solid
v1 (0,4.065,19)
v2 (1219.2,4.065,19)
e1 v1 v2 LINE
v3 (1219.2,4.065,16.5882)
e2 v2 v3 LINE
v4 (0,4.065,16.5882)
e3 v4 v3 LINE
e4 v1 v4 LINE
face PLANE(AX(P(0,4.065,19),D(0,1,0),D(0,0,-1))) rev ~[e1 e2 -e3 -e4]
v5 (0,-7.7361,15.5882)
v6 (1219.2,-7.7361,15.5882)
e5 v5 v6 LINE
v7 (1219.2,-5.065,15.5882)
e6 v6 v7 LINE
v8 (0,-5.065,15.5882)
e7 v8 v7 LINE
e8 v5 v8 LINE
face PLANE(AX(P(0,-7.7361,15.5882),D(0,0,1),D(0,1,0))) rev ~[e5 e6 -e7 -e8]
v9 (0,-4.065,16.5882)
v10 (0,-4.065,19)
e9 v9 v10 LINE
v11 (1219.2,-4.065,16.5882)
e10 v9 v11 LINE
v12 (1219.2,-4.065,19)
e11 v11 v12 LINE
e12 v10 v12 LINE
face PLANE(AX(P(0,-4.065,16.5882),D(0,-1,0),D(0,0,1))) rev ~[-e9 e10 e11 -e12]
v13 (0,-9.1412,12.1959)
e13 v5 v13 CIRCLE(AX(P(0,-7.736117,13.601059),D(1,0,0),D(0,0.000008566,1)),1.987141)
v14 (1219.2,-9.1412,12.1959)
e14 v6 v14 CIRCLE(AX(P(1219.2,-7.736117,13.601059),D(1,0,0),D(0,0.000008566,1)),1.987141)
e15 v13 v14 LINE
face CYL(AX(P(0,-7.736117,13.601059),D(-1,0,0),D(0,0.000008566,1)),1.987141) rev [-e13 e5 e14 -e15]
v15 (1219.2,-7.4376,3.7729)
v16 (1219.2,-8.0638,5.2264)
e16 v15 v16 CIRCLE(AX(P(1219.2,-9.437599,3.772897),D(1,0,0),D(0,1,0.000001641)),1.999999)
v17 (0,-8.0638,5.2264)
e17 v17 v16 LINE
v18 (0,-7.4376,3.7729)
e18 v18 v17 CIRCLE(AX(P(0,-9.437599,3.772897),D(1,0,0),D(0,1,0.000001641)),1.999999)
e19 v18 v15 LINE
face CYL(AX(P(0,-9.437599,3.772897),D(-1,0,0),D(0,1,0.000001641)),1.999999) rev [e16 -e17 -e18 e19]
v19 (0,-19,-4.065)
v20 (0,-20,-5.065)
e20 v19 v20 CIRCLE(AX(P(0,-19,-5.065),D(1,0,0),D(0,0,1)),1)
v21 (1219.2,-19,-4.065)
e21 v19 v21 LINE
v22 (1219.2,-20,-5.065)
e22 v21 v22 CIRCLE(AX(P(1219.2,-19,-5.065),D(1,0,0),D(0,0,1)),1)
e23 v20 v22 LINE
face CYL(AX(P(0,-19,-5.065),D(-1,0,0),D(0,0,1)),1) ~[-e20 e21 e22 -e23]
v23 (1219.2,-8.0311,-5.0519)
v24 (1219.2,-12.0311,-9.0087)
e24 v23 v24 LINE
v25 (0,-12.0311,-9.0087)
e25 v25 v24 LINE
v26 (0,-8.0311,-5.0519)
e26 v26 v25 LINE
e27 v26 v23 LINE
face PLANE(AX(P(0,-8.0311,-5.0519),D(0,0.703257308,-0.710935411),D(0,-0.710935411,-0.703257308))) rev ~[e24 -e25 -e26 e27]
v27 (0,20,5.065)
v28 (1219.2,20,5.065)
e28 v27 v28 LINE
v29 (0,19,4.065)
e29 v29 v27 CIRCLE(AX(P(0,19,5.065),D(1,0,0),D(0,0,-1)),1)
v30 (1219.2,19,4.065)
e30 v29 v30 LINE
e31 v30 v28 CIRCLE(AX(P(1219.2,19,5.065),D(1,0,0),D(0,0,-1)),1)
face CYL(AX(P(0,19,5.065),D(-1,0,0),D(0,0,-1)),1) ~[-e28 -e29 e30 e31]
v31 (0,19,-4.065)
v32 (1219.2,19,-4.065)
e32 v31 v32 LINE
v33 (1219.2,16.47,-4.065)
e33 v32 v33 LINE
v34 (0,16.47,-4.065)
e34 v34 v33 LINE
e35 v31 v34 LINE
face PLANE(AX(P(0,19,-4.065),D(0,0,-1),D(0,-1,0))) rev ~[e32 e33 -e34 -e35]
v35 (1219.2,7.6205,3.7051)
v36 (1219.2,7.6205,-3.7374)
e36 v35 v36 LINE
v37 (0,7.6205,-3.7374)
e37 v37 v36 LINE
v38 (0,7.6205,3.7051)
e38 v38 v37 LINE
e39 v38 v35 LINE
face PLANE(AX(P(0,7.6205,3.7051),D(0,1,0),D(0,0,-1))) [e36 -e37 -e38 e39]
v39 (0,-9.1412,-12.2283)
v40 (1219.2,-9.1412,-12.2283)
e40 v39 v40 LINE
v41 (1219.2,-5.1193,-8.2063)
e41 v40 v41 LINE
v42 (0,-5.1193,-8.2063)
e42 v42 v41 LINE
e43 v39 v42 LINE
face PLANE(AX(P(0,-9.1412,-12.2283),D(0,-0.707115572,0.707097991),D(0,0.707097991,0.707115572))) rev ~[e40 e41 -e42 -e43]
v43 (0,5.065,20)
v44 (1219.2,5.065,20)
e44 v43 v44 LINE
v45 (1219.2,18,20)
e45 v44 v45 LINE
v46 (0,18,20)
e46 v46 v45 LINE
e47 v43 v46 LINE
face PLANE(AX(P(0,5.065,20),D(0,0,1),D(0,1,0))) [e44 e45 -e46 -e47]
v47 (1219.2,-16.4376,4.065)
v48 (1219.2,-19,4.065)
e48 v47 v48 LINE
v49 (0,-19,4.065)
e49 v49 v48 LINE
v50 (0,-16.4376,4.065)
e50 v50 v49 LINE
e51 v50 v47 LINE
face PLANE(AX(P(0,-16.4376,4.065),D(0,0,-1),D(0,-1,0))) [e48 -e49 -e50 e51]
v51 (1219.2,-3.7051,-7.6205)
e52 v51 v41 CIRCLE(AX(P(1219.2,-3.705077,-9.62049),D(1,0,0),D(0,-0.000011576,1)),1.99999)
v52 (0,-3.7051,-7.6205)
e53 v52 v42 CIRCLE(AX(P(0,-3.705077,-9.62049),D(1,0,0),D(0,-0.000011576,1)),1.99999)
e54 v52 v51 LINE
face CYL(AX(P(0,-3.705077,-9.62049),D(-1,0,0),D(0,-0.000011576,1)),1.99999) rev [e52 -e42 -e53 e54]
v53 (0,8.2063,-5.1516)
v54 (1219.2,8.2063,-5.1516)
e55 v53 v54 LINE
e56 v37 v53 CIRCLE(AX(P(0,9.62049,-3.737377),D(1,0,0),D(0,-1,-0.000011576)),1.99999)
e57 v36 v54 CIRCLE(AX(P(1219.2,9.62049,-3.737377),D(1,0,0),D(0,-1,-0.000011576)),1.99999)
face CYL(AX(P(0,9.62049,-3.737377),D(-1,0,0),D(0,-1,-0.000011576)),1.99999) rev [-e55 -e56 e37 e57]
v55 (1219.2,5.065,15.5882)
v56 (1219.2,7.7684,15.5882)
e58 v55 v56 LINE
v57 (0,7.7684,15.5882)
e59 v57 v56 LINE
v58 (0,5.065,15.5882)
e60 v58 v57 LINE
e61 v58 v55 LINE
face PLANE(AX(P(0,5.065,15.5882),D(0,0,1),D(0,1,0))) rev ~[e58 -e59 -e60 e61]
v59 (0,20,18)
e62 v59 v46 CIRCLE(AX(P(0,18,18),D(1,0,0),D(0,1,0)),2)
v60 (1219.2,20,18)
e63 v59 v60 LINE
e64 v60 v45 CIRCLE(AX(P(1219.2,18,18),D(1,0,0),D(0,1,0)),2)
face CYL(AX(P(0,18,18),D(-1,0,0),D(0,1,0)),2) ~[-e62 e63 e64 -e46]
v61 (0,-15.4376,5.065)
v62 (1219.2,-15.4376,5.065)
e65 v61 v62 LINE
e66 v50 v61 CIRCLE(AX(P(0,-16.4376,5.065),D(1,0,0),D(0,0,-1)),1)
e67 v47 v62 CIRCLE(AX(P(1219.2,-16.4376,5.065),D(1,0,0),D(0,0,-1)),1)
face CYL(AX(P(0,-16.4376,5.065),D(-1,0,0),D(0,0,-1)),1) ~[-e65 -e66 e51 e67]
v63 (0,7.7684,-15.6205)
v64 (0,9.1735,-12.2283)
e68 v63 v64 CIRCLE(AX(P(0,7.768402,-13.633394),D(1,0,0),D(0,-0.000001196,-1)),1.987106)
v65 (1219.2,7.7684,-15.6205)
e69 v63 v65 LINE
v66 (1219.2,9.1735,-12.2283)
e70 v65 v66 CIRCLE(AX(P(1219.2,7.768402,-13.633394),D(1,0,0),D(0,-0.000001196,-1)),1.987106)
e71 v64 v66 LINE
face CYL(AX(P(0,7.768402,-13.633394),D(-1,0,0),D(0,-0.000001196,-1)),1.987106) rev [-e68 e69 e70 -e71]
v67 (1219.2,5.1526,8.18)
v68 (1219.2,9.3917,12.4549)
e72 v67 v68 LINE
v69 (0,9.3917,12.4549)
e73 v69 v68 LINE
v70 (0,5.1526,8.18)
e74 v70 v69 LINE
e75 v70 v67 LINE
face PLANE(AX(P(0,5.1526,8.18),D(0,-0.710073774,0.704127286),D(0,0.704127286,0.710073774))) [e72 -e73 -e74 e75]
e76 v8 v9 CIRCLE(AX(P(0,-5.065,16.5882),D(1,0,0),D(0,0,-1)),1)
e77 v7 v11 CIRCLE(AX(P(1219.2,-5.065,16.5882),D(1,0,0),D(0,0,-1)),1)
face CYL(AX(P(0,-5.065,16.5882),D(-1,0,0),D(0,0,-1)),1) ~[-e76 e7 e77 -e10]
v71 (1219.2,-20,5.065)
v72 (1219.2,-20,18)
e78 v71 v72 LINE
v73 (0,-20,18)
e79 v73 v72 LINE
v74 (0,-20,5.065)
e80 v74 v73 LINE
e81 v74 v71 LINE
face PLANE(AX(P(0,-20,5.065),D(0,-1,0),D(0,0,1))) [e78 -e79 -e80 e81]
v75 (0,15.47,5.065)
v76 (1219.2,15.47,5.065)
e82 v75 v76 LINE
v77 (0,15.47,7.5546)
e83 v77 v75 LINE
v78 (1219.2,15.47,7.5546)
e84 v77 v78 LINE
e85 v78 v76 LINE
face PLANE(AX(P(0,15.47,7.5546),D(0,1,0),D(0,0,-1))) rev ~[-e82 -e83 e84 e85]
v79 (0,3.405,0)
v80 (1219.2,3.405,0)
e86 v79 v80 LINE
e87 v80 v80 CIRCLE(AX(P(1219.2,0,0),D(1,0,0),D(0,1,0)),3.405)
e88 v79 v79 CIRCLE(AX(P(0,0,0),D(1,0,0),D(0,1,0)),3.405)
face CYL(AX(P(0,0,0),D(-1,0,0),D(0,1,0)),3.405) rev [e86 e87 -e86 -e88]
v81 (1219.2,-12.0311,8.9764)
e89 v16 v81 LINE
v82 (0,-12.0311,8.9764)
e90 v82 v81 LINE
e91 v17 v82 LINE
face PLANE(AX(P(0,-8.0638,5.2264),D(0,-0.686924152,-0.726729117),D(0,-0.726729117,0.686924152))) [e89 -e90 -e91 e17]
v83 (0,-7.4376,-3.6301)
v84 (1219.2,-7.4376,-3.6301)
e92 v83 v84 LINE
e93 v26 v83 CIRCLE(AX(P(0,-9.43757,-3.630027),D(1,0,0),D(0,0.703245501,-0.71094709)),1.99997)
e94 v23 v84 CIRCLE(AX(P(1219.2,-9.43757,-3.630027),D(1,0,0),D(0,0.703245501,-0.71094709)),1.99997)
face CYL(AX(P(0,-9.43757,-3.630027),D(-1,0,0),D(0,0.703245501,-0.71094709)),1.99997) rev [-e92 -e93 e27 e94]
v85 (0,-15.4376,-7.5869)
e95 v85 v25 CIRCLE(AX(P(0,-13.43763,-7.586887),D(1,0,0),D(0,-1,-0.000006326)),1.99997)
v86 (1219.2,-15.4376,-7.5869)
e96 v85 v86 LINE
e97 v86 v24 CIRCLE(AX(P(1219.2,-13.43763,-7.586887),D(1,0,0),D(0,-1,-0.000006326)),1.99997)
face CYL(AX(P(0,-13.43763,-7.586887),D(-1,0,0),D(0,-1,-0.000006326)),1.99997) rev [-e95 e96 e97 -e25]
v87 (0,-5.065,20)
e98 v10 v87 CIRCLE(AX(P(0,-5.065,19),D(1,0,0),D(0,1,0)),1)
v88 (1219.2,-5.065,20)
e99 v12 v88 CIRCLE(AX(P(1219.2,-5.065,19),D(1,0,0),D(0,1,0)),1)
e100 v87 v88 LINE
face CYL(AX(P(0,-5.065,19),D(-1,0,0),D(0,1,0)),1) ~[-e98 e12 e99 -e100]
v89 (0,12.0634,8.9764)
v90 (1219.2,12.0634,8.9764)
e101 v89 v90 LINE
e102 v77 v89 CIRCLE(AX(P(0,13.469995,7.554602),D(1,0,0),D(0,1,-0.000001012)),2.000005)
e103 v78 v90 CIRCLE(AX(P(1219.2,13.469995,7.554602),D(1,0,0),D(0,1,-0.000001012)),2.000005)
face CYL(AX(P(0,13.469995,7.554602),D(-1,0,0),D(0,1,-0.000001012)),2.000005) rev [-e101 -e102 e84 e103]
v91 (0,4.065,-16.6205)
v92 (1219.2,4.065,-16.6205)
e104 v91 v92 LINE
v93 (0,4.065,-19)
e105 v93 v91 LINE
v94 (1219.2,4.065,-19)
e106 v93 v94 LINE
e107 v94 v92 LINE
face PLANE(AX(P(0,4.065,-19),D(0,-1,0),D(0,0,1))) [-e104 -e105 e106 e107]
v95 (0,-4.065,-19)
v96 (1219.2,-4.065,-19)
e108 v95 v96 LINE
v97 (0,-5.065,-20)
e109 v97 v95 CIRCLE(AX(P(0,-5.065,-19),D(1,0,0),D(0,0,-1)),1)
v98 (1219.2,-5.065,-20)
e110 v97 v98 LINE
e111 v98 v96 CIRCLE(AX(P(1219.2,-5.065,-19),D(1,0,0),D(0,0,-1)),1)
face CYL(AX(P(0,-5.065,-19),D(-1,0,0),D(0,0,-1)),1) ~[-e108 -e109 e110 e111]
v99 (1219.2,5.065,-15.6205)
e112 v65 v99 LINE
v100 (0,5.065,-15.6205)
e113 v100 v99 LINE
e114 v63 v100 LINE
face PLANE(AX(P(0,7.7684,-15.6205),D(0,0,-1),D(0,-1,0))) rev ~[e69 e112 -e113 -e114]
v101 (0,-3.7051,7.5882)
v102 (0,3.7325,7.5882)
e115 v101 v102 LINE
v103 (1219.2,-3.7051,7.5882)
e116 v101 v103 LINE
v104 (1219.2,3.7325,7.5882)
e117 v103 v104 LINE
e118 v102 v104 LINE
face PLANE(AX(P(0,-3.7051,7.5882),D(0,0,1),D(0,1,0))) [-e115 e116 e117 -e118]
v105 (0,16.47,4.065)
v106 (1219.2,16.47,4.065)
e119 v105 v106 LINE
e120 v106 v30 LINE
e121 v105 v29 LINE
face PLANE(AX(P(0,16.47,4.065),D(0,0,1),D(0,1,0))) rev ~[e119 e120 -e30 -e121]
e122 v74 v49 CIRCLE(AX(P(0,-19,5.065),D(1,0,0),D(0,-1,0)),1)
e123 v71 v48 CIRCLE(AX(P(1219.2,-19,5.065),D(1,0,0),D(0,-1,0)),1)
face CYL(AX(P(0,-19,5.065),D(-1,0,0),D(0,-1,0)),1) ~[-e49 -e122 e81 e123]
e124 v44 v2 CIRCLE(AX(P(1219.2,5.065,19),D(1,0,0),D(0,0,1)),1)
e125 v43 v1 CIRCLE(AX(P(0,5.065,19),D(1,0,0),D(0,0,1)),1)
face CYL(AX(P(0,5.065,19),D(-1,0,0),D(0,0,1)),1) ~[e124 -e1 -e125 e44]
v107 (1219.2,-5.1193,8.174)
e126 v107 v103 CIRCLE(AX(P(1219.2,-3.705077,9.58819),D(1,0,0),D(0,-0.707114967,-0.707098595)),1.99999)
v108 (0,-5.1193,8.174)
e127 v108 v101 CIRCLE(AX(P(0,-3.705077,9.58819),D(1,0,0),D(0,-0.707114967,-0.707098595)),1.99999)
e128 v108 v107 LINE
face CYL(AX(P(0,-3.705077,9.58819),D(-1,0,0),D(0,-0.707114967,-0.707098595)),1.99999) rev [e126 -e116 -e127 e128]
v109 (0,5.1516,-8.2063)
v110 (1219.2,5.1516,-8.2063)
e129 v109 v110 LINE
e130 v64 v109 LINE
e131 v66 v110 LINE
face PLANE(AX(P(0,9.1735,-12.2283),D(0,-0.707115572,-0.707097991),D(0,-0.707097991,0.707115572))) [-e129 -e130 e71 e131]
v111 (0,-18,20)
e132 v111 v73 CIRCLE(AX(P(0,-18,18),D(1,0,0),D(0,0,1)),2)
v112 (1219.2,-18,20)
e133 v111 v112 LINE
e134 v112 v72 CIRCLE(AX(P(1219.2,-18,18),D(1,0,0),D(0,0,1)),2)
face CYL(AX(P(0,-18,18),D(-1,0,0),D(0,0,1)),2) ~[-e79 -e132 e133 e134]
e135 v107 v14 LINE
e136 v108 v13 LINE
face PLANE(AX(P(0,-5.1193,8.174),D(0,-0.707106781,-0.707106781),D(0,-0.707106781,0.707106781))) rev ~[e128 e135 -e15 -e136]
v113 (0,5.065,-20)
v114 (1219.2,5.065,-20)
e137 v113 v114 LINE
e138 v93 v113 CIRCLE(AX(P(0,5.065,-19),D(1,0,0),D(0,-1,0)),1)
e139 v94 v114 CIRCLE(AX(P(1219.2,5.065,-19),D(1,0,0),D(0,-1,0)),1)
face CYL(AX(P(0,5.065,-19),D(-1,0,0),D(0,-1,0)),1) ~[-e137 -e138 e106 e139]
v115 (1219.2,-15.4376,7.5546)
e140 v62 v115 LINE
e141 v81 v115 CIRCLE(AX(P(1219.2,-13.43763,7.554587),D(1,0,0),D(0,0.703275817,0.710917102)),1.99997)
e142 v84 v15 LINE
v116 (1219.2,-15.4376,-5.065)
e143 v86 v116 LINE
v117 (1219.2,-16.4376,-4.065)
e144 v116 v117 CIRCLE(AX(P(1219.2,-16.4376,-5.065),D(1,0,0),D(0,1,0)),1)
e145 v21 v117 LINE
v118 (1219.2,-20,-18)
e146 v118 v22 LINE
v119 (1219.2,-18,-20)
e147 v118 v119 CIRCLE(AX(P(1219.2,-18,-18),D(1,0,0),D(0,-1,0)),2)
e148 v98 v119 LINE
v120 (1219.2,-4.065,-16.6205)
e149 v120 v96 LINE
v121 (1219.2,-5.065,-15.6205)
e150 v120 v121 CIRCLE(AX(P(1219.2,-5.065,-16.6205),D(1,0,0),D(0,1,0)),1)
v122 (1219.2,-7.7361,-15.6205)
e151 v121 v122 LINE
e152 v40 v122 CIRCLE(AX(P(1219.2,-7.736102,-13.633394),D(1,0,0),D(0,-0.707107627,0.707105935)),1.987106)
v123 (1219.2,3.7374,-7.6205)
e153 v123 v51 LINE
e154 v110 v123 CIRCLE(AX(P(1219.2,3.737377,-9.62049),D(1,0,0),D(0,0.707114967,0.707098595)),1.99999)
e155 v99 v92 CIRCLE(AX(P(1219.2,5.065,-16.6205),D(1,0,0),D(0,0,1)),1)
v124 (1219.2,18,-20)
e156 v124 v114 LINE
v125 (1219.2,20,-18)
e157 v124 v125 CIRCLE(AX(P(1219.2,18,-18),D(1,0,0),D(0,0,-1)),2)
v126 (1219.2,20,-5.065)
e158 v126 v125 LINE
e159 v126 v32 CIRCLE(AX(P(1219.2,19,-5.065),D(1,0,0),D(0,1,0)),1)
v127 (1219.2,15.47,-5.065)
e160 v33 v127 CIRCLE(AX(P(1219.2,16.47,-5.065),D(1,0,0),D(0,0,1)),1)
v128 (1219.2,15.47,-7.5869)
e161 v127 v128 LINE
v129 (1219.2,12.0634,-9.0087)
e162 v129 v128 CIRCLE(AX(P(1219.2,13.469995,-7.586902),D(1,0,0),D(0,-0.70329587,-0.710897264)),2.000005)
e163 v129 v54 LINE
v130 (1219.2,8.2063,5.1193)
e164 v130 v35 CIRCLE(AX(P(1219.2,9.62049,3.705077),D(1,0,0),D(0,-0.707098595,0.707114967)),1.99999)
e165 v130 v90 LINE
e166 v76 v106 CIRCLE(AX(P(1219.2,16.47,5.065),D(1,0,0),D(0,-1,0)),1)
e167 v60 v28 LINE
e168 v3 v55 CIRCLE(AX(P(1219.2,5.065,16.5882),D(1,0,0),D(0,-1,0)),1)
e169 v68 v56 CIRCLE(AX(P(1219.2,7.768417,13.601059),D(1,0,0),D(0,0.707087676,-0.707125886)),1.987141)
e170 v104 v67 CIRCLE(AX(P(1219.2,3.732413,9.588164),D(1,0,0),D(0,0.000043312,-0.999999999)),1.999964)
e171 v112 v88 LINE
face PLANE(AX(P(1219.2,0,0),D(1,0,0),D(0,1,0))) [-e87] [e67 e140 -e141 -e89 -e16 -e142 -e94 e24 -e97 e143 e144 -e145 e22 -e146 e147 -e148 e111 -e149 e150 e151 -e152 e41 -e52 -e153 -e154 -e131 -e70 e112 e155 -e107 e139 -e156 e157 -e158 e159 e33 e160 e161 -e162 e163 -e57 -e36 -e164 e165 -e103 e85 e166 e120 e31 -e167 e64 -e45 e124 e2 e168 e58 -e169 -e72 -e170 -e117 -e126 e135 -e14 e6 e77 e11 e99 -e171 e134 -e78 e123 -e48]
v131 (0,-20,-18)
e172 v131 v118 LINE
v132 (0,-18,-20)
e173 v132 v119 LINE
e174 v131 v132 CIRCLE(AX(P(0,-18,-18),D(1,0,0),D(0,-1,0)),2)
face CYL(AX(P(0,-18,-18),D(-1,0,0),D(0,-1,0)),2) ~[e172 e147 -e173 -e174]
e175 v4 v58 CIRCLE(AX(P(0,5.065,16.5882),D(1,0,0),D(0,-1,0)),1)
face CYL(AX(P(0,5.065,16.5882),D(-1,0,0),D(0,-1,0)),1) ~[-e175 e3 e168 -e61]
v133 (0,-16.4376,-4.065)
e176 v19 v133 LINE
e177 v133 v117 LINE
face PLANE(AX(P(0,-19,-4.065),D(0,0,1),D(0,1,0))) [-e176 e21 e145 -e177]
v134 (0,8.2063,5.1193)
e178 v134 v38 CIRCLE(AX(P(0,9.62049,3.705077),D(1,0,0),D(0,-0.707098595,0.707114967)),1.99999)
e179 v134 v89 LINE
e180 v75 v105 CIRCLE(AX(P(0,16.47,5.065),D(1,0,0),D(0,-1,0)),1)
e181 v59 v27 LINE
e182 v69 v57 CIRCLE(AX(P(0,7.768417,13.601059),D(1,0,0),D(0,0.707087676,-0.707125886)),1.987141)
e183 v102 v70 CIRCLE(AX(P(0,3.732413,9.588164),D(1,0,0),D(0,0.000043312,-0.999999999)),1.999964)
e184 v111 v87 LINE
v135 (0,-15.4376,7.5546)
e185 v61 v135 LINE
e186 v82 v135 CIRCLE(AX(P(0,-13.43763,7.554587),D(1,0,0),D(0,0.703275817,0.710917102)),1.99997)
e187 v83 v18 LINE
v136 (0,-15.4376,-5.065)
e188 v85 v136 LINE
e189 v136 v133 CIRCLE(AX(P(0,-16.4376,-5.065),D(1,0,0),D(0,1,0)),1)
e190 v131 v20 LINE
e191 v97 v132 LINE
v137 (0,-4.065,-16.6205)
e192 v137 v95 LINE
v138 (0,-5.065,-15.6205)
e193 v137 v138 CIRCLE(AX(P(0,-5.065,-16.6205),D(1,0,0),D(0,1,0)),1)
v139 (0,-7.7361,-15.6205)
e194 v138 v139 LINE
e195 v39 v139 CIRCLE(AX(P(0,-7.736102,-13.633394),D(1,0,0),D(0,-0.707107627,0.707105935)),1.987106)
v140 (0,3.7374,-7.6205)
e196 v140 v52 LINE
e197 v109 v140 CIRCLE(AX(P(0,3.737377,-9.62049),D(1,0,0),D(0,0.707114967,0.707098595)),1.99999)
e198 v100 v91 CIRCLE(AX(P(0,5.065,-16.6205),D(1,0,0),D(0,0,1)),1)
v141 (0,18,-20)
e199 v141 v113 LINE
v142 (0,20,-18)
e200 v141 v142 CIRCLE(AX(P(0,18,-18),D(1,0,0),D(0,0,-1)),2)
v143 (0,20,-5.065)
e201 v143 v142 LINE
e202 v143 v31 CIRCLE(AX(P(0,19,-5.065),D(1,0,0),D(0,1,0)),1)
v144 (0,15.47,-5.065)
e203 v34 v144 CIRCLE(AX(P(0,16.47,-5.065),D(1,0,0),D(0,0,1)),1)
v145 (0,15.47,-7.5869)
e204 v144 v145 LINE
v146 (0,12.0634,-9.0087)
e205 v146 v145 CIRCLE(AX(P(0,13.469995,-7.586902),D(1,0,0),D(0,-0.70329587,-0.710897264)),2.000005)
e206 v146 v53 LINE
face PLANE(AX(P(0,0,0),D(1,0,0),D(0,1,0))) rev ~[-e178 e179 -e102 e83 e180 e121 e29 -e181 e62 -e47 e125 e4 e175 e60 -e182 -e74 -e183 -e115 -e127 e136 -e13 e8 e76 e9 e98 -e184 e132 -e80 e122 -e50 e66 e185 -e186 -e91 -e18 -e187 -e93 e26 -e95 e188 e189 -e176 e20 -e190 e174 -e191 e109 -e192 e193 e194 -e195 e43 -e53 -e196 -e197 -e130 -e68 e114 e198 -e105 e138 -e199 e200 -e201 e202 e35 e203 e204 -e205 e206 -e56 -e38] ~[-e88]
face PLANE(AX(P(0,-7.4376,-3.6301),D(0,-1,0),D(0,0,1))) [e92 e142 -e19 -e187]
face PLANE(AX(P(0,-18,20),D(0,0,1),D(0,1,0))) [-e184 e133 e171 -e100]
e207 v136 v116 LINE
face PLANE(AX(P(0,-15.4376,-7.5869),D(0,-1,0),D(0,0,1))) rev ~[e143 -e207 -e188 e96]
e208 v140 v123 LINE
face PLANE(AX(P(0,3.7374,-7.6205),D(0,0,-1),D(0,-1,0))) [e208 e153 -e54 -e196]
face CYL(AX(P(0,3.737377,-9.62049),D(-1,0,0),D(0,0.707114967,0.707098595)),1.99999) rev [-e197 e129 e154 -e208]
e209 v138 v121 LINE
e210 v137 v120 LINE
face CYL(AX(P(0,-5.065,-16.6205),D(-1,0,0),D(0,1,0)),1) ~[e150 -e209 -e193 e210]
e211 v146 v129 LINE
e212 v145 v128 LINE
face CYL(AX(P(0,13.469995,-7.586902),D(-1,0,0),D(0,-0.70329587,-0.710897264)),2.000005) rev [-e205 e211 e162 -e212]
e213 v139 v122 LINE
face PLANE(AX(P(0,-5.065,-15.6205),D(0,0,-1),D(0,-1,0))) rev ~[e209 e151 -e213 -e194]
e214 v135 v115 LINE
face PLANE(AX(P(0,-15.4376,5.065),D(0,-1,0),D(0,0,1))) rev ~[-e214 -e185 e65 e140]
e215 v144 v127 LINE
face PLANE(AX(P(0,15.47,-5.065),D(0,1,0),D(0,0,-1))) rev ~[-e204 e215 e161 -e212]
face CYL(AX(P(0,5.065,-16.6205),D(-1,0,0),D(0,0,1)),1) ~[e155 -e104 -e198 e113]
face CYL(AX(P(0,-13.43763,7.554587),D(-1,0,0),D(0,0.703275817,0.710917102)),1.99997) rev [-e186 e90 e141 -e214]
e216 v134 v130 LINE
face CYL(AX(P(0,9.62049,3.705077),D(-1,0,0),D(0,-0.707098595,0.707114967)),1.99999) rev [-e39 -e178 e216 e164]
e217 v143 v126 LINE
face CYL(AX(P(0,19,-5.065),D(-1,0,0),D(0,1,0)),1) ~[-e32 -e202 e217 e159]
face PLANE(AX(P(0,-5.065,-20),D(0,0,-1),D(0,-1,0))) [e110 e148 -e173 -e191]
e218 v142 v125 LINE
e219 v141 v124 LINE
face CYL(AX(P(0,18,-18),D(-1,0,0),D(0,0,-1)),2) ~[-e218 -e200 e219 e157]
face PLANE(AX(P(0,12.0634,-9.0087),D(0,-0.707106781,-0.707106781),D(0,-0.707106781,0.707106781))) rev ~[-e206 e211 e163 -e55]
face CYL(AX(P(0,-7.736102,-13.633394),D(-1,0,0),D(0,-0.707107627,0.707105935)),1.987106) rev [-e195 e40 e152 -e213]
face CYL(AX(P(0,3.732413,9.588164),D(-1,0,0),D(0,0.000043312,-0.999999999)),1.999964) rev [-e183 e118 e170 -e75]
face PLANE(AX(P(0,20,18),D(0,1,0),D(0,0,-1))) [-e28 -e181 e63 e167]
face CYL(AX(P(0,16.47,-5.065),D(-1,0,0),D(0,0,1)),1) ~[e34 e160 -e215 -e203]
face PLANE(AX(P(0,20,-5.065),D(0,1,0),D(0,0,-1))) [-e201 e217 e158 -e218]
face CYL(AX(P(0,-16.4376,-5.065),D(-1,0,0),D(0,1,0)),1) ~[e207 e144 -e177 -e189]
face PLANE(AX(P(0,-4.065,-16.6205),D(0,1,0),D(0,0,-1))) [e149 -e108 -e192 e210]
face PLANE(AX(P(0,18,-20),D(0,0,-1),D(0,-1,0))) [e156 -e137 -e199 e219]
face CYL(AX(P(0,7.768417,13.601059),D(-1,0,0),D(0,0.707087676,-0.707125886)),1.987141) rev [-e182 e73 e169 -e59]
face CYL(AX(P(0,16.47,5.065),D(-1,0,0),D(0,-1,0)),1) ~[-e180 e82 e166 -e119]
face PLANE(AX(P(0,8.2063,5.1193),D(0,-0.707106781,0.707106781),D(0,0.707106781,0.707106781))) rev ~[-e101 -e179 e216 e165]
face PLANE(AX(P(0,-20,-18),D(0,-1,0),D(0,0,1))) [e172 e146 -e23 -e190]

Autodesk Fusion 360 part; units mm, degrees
sketch "Sketch1" plane through (0, 0, 0) normal (1, 0, 0) x (0, 1, 0)
  circle A0 centre (0, 0) radius 3.405
  line L0 (3.7374, -7.6205) -> (-3.7051, -7.6205)
  line L1 (-3.7051, 7.5882) -> (3.7325, 7.5882)
  line L2 (7.425, -7.6205) -> (-7.425, 7.6205) construction
  line L3 (-7.425, -7.6205) -> (2.3762, 2.4388) construction
  line L4 (20, -20) -> (-20, 20) construction
  line L5 (15.425, -15.6205) -> (-15.425, 15.6205) construction
  line L6 (-8.0311, -5.0519) -> (-12.0311, -9.0087)
  line L7 (16.9453, -20) -> (68.4291, -20) construction
  line L8 (5.1526, 8.18) -> (9.3917, 12.4549)
  line L9 (-5.1193, 8.174) -> (-9.1412, 12.1959)
  line L10 (12.0634, -9.0087) -> (8.2063, -5.1516)
  line L11 (8.2063, 5.1193) -> (12.0634, 8.9764)
  line L12 (-9.1412, -12.2283) -> (-5.1193, -8.2063)
  line L13 (9.1735, -12.2283) -> (5.1516, -8.2063)
  line L14 (-8.0638, 5.2264) -> (-12.0311, 8.9764)
  line L15 (-20, -20) -> (2.4077, 2.4077) construction
  line L16 (7.425, 7.425) -> (20, 20) construction
  line L17 (-15.425, -15.6205) -> (2.3925, 2.4228) construction
  line L18 (7.6205, 3.7051) -> (7.6205, -3.7374)
  line L19 (-7.4376, -3.6301) -> (-7.4376, 3.7729)
  line L20 (-19, -4.065) -> (-16.4376, -4.065)
  line L21 (-16.4376, 4.065) -> (-19, 4.065)
  line L22 (16.47, 4.065) -> (19, 4.065)
  line L23 (19, -4.065) -> (16.47, -4.065)
  line L24 (-20, -18) -> (-20, -5.065)
  line L25 (-20, 5.065) -> (-20, 18)
  line L26 (-15.4376, -7.5869) -> (-15.4376, -5.065)
  line L27 (-15.4376, 5.065) -> (-15.4376, 7.5546)
  line L28 (15.47, 7.5546) -> (15.47, 5.065)
  line L29 (15.47, -5.065) -> (15.47, -7.5869)
  line L30 (20, 18) -> (20, 5.065)
  line L31 (20, -5.065) -> (20, -18)
  line L32 (16.47, 4.065) -> (19, 4.065)
  line L33 (4.065, 19) -> (4.065, 16.5882)
  line L34 (-4.065, 16.5882) -> (-4.065, 19)
  line L35 (4.065, -19) -> (4.065, -16.6205)
  line L36 (-4.065, -16.6205) -> (-4.065, -19)
  line L37 (-7.7361, 15.5882) -> (-5.065, 15.5882)
  line L38 (5.065, 15.5882) -> (7.7684, 15.5882)
  line L39 (-18, 20) -> (-5.065, 20)
  line L40 (5.065, 20) -> (18, 20)
  line L41 (-16.9453, -20) -> (-5.065, -20) construction
  line L42 (5.065, -20) -> (34.3692, -20) construction
  line L43 (18, -20) -> (4.065, -20)
  line L44 (-4.065, -20) -> (-18, -20)
  line L45 (7.7684, -15.6205) -> (5.065, -15.6205)
  line L46 (-5.065, -15.6205) -> (-7.7361, -15.6205)
  arc A1 (-18, 20) -> (-20, 18) centre (-18, 18) ccw
  arc A2 (20, 18) -> (18, 20) centre (18, 18) ccw
  arc A3 (18, -20) -> (20, -18) centre (18, -18) ccw
  arc A4 (-20, -18) -> (-18, -20) centre (-18, -18) ccw
  arc A5 (-9.1412, -12.2283) -> (-7.7361, -15.6205) centre (-7.7361, -13.6334) ccw
  arc A6 (-15.4376, -7.5869) -> (-12.0311, -9.0087) centre (-13.4376, -7.5869) ccw
  arc A7 (7.7684, -15.6205) -> (9.1735, -12.2283) centre (7.7684, -13.6334) ccw
  arc A8 (12.0634, -9.0087) -> (15.47, -7.5869) centre (13.47, -7.5869) ccw
  arc A9 (-12.0311, 8.9764) -> (-15.4376, 7.5546) centre (-13.4376, 7.5546) ccw
  arc A10 (-7.7361, 15.5882) -> (-9.1412, 12.1959) centre (-7.7361, 13.6011) ccw
  arc A11 (9.1735, 12.1959) -> (7.7684, 15.5882) centre (7.7684, 13.6011) ccw
  arc A12 (15.47, 7.5546) -> (12.0634, 8.9764) centre (13.47, 7.5546) ccw
  arc A13 (16.47, -4.065) -> (15.47, -5.065) centre (16.47, -5.065) ccw
  arc A14 (20, -5.065) -> (19, -4.065) centre (19, -5.065) ccw
  arc A15 (5.065, -15.6205) -> (4.065, -16.6205) centre (5.065, -16.6205) ccw
  arc A16 (4.065, -19) -> (5.065, -20) centre (5.065, -19) ccw
  arc A17 (-4.065, -16.6205) -> (-5.065, -15.6205) centre (-5.065, -16.6205) ccw
  arc A18 (-5.065, -20) -> (-4.065, -19) centre (-5.065, -19) ccw
  arc A19 (-19, -4.065) -> (-20, -5.065) centre (-19, -5.065) ccw
  arc A20 (-15.4376, -5.065) -> (-16.4376, -4.065) centre (-16.4376, -5.065) ccw
  arc A21 (-20, 5.065) -> (-19, 4.065) centre (-19, 5.065) ccw
  arc A22 (-16.4376, 4.065) -> (-15.4376, 5.065) centre (-16.4376, 5.065) ccw
  arc A23 (-4.065, 19) -> (-5.065, 20) centre (-5.065, 19) ccw
  arc A24 (-5.065, 15.5882) -> (-4.065, 16.5882) centre (-5.065, 16.5882) ccw
  arc A25 (4.065, 16.5882) -> (5.065, 15.5882) centre (5.065, 16.5882) ccw
  arc A26 (5.065, 20) -> (4.065, 19) centre (5.065, 19) ccw
  arc A27 (15.47, 5.065) -> (16.47, 4.065) centre (16.47, 5.065) ccw
  arc A28 (19, 4.065) -> (20, 5.065) centre (19, 5.065) ccw
  arc A29 (3.7325, 7.5882) -> (5.1526, 8.18) centre (3.7325, 9.5882) ccw
  arc A30 (8.2063, 5.1193) -> (7.6205, 3.7051) centre (9.6205, 3.7051) ccw
  arc A31 (7.6205, -3.7374) -> (8.2063, -5.1516) centre (9.6205, -3.7374) ccw
  arc A32 (5.1516, -8.2063) -> (3.7374, -7.6205) centre (3.7374, -9.6205) ccw
  arc A33 (-3.7051, -7.6205) -> (-5.1193, -8.2063) centre (-3.7051, -9.6205) ccw
  arc A34 (-8.0311, -5.0519) -> (-7.4376, -3.6301) centre (-9.4376, -3.6301) ccw
  arc A35 (-7.4376, 3.7729) -> (-8.0638, 5.2264) centre (-9.4376, 3.7729) ccw
  arc A36 (-5.1193, 8.174) -> (-3.7051, 7.5882) centre (-3.7051, 9.5882) ccw
  dimension "d1" = 6.81
  dimension "d4" = 40
  dimension "d5" = 40
  dimension "d7" = 8
  dimension "d9" = 45
  dimension "d11" = 135
  dimension "d12" = 4.32
  dimension "d13" = 2.16
  dimension "d16" = 8.13
  dimension "d17" = 2
  dimension "d18" = 2
  dimension "d19" = 2
  dimension "d20" = 2
  dimension "d22" = 2
  dimension "d23" = 8
  dimension "d24" = 8
  dimension "d26" = 1
  dimension "d27" = 1
  dimension "d28" = 1
  dimension "d29" = 1
  dimension "d30" = 1
  dimension "d31" = 1
  dimension "d32" = 1
  dimension "d33" = 1
  dimension "d34" = 1
  dimension "d35" = 1
  dimension "d36" = 1
  dimension "d37" = 1
  dimension "d38" = 1
  dimension "d39" = 1
  dimension "d40" = 1
  dimension "d41" = 1
  dimension "d42" = 8.13
  dimension "d43" = 8.13
  dimension "d44" = 8.13
  dimension "d45" = 2
  dimension "d46" = 2
  dimension "d47" = 2
  dimension "d48" = 2
  dimension "d49" = 2
  dimension "d50" = 2
  dimension "d51" = 2
  dimension "d52" = 2
extrude "Extrude1" add sketch "Sketch1" along normal blind 1219.2
equation "d13 = ( 4.32 / 2 ) * 1 mm"
